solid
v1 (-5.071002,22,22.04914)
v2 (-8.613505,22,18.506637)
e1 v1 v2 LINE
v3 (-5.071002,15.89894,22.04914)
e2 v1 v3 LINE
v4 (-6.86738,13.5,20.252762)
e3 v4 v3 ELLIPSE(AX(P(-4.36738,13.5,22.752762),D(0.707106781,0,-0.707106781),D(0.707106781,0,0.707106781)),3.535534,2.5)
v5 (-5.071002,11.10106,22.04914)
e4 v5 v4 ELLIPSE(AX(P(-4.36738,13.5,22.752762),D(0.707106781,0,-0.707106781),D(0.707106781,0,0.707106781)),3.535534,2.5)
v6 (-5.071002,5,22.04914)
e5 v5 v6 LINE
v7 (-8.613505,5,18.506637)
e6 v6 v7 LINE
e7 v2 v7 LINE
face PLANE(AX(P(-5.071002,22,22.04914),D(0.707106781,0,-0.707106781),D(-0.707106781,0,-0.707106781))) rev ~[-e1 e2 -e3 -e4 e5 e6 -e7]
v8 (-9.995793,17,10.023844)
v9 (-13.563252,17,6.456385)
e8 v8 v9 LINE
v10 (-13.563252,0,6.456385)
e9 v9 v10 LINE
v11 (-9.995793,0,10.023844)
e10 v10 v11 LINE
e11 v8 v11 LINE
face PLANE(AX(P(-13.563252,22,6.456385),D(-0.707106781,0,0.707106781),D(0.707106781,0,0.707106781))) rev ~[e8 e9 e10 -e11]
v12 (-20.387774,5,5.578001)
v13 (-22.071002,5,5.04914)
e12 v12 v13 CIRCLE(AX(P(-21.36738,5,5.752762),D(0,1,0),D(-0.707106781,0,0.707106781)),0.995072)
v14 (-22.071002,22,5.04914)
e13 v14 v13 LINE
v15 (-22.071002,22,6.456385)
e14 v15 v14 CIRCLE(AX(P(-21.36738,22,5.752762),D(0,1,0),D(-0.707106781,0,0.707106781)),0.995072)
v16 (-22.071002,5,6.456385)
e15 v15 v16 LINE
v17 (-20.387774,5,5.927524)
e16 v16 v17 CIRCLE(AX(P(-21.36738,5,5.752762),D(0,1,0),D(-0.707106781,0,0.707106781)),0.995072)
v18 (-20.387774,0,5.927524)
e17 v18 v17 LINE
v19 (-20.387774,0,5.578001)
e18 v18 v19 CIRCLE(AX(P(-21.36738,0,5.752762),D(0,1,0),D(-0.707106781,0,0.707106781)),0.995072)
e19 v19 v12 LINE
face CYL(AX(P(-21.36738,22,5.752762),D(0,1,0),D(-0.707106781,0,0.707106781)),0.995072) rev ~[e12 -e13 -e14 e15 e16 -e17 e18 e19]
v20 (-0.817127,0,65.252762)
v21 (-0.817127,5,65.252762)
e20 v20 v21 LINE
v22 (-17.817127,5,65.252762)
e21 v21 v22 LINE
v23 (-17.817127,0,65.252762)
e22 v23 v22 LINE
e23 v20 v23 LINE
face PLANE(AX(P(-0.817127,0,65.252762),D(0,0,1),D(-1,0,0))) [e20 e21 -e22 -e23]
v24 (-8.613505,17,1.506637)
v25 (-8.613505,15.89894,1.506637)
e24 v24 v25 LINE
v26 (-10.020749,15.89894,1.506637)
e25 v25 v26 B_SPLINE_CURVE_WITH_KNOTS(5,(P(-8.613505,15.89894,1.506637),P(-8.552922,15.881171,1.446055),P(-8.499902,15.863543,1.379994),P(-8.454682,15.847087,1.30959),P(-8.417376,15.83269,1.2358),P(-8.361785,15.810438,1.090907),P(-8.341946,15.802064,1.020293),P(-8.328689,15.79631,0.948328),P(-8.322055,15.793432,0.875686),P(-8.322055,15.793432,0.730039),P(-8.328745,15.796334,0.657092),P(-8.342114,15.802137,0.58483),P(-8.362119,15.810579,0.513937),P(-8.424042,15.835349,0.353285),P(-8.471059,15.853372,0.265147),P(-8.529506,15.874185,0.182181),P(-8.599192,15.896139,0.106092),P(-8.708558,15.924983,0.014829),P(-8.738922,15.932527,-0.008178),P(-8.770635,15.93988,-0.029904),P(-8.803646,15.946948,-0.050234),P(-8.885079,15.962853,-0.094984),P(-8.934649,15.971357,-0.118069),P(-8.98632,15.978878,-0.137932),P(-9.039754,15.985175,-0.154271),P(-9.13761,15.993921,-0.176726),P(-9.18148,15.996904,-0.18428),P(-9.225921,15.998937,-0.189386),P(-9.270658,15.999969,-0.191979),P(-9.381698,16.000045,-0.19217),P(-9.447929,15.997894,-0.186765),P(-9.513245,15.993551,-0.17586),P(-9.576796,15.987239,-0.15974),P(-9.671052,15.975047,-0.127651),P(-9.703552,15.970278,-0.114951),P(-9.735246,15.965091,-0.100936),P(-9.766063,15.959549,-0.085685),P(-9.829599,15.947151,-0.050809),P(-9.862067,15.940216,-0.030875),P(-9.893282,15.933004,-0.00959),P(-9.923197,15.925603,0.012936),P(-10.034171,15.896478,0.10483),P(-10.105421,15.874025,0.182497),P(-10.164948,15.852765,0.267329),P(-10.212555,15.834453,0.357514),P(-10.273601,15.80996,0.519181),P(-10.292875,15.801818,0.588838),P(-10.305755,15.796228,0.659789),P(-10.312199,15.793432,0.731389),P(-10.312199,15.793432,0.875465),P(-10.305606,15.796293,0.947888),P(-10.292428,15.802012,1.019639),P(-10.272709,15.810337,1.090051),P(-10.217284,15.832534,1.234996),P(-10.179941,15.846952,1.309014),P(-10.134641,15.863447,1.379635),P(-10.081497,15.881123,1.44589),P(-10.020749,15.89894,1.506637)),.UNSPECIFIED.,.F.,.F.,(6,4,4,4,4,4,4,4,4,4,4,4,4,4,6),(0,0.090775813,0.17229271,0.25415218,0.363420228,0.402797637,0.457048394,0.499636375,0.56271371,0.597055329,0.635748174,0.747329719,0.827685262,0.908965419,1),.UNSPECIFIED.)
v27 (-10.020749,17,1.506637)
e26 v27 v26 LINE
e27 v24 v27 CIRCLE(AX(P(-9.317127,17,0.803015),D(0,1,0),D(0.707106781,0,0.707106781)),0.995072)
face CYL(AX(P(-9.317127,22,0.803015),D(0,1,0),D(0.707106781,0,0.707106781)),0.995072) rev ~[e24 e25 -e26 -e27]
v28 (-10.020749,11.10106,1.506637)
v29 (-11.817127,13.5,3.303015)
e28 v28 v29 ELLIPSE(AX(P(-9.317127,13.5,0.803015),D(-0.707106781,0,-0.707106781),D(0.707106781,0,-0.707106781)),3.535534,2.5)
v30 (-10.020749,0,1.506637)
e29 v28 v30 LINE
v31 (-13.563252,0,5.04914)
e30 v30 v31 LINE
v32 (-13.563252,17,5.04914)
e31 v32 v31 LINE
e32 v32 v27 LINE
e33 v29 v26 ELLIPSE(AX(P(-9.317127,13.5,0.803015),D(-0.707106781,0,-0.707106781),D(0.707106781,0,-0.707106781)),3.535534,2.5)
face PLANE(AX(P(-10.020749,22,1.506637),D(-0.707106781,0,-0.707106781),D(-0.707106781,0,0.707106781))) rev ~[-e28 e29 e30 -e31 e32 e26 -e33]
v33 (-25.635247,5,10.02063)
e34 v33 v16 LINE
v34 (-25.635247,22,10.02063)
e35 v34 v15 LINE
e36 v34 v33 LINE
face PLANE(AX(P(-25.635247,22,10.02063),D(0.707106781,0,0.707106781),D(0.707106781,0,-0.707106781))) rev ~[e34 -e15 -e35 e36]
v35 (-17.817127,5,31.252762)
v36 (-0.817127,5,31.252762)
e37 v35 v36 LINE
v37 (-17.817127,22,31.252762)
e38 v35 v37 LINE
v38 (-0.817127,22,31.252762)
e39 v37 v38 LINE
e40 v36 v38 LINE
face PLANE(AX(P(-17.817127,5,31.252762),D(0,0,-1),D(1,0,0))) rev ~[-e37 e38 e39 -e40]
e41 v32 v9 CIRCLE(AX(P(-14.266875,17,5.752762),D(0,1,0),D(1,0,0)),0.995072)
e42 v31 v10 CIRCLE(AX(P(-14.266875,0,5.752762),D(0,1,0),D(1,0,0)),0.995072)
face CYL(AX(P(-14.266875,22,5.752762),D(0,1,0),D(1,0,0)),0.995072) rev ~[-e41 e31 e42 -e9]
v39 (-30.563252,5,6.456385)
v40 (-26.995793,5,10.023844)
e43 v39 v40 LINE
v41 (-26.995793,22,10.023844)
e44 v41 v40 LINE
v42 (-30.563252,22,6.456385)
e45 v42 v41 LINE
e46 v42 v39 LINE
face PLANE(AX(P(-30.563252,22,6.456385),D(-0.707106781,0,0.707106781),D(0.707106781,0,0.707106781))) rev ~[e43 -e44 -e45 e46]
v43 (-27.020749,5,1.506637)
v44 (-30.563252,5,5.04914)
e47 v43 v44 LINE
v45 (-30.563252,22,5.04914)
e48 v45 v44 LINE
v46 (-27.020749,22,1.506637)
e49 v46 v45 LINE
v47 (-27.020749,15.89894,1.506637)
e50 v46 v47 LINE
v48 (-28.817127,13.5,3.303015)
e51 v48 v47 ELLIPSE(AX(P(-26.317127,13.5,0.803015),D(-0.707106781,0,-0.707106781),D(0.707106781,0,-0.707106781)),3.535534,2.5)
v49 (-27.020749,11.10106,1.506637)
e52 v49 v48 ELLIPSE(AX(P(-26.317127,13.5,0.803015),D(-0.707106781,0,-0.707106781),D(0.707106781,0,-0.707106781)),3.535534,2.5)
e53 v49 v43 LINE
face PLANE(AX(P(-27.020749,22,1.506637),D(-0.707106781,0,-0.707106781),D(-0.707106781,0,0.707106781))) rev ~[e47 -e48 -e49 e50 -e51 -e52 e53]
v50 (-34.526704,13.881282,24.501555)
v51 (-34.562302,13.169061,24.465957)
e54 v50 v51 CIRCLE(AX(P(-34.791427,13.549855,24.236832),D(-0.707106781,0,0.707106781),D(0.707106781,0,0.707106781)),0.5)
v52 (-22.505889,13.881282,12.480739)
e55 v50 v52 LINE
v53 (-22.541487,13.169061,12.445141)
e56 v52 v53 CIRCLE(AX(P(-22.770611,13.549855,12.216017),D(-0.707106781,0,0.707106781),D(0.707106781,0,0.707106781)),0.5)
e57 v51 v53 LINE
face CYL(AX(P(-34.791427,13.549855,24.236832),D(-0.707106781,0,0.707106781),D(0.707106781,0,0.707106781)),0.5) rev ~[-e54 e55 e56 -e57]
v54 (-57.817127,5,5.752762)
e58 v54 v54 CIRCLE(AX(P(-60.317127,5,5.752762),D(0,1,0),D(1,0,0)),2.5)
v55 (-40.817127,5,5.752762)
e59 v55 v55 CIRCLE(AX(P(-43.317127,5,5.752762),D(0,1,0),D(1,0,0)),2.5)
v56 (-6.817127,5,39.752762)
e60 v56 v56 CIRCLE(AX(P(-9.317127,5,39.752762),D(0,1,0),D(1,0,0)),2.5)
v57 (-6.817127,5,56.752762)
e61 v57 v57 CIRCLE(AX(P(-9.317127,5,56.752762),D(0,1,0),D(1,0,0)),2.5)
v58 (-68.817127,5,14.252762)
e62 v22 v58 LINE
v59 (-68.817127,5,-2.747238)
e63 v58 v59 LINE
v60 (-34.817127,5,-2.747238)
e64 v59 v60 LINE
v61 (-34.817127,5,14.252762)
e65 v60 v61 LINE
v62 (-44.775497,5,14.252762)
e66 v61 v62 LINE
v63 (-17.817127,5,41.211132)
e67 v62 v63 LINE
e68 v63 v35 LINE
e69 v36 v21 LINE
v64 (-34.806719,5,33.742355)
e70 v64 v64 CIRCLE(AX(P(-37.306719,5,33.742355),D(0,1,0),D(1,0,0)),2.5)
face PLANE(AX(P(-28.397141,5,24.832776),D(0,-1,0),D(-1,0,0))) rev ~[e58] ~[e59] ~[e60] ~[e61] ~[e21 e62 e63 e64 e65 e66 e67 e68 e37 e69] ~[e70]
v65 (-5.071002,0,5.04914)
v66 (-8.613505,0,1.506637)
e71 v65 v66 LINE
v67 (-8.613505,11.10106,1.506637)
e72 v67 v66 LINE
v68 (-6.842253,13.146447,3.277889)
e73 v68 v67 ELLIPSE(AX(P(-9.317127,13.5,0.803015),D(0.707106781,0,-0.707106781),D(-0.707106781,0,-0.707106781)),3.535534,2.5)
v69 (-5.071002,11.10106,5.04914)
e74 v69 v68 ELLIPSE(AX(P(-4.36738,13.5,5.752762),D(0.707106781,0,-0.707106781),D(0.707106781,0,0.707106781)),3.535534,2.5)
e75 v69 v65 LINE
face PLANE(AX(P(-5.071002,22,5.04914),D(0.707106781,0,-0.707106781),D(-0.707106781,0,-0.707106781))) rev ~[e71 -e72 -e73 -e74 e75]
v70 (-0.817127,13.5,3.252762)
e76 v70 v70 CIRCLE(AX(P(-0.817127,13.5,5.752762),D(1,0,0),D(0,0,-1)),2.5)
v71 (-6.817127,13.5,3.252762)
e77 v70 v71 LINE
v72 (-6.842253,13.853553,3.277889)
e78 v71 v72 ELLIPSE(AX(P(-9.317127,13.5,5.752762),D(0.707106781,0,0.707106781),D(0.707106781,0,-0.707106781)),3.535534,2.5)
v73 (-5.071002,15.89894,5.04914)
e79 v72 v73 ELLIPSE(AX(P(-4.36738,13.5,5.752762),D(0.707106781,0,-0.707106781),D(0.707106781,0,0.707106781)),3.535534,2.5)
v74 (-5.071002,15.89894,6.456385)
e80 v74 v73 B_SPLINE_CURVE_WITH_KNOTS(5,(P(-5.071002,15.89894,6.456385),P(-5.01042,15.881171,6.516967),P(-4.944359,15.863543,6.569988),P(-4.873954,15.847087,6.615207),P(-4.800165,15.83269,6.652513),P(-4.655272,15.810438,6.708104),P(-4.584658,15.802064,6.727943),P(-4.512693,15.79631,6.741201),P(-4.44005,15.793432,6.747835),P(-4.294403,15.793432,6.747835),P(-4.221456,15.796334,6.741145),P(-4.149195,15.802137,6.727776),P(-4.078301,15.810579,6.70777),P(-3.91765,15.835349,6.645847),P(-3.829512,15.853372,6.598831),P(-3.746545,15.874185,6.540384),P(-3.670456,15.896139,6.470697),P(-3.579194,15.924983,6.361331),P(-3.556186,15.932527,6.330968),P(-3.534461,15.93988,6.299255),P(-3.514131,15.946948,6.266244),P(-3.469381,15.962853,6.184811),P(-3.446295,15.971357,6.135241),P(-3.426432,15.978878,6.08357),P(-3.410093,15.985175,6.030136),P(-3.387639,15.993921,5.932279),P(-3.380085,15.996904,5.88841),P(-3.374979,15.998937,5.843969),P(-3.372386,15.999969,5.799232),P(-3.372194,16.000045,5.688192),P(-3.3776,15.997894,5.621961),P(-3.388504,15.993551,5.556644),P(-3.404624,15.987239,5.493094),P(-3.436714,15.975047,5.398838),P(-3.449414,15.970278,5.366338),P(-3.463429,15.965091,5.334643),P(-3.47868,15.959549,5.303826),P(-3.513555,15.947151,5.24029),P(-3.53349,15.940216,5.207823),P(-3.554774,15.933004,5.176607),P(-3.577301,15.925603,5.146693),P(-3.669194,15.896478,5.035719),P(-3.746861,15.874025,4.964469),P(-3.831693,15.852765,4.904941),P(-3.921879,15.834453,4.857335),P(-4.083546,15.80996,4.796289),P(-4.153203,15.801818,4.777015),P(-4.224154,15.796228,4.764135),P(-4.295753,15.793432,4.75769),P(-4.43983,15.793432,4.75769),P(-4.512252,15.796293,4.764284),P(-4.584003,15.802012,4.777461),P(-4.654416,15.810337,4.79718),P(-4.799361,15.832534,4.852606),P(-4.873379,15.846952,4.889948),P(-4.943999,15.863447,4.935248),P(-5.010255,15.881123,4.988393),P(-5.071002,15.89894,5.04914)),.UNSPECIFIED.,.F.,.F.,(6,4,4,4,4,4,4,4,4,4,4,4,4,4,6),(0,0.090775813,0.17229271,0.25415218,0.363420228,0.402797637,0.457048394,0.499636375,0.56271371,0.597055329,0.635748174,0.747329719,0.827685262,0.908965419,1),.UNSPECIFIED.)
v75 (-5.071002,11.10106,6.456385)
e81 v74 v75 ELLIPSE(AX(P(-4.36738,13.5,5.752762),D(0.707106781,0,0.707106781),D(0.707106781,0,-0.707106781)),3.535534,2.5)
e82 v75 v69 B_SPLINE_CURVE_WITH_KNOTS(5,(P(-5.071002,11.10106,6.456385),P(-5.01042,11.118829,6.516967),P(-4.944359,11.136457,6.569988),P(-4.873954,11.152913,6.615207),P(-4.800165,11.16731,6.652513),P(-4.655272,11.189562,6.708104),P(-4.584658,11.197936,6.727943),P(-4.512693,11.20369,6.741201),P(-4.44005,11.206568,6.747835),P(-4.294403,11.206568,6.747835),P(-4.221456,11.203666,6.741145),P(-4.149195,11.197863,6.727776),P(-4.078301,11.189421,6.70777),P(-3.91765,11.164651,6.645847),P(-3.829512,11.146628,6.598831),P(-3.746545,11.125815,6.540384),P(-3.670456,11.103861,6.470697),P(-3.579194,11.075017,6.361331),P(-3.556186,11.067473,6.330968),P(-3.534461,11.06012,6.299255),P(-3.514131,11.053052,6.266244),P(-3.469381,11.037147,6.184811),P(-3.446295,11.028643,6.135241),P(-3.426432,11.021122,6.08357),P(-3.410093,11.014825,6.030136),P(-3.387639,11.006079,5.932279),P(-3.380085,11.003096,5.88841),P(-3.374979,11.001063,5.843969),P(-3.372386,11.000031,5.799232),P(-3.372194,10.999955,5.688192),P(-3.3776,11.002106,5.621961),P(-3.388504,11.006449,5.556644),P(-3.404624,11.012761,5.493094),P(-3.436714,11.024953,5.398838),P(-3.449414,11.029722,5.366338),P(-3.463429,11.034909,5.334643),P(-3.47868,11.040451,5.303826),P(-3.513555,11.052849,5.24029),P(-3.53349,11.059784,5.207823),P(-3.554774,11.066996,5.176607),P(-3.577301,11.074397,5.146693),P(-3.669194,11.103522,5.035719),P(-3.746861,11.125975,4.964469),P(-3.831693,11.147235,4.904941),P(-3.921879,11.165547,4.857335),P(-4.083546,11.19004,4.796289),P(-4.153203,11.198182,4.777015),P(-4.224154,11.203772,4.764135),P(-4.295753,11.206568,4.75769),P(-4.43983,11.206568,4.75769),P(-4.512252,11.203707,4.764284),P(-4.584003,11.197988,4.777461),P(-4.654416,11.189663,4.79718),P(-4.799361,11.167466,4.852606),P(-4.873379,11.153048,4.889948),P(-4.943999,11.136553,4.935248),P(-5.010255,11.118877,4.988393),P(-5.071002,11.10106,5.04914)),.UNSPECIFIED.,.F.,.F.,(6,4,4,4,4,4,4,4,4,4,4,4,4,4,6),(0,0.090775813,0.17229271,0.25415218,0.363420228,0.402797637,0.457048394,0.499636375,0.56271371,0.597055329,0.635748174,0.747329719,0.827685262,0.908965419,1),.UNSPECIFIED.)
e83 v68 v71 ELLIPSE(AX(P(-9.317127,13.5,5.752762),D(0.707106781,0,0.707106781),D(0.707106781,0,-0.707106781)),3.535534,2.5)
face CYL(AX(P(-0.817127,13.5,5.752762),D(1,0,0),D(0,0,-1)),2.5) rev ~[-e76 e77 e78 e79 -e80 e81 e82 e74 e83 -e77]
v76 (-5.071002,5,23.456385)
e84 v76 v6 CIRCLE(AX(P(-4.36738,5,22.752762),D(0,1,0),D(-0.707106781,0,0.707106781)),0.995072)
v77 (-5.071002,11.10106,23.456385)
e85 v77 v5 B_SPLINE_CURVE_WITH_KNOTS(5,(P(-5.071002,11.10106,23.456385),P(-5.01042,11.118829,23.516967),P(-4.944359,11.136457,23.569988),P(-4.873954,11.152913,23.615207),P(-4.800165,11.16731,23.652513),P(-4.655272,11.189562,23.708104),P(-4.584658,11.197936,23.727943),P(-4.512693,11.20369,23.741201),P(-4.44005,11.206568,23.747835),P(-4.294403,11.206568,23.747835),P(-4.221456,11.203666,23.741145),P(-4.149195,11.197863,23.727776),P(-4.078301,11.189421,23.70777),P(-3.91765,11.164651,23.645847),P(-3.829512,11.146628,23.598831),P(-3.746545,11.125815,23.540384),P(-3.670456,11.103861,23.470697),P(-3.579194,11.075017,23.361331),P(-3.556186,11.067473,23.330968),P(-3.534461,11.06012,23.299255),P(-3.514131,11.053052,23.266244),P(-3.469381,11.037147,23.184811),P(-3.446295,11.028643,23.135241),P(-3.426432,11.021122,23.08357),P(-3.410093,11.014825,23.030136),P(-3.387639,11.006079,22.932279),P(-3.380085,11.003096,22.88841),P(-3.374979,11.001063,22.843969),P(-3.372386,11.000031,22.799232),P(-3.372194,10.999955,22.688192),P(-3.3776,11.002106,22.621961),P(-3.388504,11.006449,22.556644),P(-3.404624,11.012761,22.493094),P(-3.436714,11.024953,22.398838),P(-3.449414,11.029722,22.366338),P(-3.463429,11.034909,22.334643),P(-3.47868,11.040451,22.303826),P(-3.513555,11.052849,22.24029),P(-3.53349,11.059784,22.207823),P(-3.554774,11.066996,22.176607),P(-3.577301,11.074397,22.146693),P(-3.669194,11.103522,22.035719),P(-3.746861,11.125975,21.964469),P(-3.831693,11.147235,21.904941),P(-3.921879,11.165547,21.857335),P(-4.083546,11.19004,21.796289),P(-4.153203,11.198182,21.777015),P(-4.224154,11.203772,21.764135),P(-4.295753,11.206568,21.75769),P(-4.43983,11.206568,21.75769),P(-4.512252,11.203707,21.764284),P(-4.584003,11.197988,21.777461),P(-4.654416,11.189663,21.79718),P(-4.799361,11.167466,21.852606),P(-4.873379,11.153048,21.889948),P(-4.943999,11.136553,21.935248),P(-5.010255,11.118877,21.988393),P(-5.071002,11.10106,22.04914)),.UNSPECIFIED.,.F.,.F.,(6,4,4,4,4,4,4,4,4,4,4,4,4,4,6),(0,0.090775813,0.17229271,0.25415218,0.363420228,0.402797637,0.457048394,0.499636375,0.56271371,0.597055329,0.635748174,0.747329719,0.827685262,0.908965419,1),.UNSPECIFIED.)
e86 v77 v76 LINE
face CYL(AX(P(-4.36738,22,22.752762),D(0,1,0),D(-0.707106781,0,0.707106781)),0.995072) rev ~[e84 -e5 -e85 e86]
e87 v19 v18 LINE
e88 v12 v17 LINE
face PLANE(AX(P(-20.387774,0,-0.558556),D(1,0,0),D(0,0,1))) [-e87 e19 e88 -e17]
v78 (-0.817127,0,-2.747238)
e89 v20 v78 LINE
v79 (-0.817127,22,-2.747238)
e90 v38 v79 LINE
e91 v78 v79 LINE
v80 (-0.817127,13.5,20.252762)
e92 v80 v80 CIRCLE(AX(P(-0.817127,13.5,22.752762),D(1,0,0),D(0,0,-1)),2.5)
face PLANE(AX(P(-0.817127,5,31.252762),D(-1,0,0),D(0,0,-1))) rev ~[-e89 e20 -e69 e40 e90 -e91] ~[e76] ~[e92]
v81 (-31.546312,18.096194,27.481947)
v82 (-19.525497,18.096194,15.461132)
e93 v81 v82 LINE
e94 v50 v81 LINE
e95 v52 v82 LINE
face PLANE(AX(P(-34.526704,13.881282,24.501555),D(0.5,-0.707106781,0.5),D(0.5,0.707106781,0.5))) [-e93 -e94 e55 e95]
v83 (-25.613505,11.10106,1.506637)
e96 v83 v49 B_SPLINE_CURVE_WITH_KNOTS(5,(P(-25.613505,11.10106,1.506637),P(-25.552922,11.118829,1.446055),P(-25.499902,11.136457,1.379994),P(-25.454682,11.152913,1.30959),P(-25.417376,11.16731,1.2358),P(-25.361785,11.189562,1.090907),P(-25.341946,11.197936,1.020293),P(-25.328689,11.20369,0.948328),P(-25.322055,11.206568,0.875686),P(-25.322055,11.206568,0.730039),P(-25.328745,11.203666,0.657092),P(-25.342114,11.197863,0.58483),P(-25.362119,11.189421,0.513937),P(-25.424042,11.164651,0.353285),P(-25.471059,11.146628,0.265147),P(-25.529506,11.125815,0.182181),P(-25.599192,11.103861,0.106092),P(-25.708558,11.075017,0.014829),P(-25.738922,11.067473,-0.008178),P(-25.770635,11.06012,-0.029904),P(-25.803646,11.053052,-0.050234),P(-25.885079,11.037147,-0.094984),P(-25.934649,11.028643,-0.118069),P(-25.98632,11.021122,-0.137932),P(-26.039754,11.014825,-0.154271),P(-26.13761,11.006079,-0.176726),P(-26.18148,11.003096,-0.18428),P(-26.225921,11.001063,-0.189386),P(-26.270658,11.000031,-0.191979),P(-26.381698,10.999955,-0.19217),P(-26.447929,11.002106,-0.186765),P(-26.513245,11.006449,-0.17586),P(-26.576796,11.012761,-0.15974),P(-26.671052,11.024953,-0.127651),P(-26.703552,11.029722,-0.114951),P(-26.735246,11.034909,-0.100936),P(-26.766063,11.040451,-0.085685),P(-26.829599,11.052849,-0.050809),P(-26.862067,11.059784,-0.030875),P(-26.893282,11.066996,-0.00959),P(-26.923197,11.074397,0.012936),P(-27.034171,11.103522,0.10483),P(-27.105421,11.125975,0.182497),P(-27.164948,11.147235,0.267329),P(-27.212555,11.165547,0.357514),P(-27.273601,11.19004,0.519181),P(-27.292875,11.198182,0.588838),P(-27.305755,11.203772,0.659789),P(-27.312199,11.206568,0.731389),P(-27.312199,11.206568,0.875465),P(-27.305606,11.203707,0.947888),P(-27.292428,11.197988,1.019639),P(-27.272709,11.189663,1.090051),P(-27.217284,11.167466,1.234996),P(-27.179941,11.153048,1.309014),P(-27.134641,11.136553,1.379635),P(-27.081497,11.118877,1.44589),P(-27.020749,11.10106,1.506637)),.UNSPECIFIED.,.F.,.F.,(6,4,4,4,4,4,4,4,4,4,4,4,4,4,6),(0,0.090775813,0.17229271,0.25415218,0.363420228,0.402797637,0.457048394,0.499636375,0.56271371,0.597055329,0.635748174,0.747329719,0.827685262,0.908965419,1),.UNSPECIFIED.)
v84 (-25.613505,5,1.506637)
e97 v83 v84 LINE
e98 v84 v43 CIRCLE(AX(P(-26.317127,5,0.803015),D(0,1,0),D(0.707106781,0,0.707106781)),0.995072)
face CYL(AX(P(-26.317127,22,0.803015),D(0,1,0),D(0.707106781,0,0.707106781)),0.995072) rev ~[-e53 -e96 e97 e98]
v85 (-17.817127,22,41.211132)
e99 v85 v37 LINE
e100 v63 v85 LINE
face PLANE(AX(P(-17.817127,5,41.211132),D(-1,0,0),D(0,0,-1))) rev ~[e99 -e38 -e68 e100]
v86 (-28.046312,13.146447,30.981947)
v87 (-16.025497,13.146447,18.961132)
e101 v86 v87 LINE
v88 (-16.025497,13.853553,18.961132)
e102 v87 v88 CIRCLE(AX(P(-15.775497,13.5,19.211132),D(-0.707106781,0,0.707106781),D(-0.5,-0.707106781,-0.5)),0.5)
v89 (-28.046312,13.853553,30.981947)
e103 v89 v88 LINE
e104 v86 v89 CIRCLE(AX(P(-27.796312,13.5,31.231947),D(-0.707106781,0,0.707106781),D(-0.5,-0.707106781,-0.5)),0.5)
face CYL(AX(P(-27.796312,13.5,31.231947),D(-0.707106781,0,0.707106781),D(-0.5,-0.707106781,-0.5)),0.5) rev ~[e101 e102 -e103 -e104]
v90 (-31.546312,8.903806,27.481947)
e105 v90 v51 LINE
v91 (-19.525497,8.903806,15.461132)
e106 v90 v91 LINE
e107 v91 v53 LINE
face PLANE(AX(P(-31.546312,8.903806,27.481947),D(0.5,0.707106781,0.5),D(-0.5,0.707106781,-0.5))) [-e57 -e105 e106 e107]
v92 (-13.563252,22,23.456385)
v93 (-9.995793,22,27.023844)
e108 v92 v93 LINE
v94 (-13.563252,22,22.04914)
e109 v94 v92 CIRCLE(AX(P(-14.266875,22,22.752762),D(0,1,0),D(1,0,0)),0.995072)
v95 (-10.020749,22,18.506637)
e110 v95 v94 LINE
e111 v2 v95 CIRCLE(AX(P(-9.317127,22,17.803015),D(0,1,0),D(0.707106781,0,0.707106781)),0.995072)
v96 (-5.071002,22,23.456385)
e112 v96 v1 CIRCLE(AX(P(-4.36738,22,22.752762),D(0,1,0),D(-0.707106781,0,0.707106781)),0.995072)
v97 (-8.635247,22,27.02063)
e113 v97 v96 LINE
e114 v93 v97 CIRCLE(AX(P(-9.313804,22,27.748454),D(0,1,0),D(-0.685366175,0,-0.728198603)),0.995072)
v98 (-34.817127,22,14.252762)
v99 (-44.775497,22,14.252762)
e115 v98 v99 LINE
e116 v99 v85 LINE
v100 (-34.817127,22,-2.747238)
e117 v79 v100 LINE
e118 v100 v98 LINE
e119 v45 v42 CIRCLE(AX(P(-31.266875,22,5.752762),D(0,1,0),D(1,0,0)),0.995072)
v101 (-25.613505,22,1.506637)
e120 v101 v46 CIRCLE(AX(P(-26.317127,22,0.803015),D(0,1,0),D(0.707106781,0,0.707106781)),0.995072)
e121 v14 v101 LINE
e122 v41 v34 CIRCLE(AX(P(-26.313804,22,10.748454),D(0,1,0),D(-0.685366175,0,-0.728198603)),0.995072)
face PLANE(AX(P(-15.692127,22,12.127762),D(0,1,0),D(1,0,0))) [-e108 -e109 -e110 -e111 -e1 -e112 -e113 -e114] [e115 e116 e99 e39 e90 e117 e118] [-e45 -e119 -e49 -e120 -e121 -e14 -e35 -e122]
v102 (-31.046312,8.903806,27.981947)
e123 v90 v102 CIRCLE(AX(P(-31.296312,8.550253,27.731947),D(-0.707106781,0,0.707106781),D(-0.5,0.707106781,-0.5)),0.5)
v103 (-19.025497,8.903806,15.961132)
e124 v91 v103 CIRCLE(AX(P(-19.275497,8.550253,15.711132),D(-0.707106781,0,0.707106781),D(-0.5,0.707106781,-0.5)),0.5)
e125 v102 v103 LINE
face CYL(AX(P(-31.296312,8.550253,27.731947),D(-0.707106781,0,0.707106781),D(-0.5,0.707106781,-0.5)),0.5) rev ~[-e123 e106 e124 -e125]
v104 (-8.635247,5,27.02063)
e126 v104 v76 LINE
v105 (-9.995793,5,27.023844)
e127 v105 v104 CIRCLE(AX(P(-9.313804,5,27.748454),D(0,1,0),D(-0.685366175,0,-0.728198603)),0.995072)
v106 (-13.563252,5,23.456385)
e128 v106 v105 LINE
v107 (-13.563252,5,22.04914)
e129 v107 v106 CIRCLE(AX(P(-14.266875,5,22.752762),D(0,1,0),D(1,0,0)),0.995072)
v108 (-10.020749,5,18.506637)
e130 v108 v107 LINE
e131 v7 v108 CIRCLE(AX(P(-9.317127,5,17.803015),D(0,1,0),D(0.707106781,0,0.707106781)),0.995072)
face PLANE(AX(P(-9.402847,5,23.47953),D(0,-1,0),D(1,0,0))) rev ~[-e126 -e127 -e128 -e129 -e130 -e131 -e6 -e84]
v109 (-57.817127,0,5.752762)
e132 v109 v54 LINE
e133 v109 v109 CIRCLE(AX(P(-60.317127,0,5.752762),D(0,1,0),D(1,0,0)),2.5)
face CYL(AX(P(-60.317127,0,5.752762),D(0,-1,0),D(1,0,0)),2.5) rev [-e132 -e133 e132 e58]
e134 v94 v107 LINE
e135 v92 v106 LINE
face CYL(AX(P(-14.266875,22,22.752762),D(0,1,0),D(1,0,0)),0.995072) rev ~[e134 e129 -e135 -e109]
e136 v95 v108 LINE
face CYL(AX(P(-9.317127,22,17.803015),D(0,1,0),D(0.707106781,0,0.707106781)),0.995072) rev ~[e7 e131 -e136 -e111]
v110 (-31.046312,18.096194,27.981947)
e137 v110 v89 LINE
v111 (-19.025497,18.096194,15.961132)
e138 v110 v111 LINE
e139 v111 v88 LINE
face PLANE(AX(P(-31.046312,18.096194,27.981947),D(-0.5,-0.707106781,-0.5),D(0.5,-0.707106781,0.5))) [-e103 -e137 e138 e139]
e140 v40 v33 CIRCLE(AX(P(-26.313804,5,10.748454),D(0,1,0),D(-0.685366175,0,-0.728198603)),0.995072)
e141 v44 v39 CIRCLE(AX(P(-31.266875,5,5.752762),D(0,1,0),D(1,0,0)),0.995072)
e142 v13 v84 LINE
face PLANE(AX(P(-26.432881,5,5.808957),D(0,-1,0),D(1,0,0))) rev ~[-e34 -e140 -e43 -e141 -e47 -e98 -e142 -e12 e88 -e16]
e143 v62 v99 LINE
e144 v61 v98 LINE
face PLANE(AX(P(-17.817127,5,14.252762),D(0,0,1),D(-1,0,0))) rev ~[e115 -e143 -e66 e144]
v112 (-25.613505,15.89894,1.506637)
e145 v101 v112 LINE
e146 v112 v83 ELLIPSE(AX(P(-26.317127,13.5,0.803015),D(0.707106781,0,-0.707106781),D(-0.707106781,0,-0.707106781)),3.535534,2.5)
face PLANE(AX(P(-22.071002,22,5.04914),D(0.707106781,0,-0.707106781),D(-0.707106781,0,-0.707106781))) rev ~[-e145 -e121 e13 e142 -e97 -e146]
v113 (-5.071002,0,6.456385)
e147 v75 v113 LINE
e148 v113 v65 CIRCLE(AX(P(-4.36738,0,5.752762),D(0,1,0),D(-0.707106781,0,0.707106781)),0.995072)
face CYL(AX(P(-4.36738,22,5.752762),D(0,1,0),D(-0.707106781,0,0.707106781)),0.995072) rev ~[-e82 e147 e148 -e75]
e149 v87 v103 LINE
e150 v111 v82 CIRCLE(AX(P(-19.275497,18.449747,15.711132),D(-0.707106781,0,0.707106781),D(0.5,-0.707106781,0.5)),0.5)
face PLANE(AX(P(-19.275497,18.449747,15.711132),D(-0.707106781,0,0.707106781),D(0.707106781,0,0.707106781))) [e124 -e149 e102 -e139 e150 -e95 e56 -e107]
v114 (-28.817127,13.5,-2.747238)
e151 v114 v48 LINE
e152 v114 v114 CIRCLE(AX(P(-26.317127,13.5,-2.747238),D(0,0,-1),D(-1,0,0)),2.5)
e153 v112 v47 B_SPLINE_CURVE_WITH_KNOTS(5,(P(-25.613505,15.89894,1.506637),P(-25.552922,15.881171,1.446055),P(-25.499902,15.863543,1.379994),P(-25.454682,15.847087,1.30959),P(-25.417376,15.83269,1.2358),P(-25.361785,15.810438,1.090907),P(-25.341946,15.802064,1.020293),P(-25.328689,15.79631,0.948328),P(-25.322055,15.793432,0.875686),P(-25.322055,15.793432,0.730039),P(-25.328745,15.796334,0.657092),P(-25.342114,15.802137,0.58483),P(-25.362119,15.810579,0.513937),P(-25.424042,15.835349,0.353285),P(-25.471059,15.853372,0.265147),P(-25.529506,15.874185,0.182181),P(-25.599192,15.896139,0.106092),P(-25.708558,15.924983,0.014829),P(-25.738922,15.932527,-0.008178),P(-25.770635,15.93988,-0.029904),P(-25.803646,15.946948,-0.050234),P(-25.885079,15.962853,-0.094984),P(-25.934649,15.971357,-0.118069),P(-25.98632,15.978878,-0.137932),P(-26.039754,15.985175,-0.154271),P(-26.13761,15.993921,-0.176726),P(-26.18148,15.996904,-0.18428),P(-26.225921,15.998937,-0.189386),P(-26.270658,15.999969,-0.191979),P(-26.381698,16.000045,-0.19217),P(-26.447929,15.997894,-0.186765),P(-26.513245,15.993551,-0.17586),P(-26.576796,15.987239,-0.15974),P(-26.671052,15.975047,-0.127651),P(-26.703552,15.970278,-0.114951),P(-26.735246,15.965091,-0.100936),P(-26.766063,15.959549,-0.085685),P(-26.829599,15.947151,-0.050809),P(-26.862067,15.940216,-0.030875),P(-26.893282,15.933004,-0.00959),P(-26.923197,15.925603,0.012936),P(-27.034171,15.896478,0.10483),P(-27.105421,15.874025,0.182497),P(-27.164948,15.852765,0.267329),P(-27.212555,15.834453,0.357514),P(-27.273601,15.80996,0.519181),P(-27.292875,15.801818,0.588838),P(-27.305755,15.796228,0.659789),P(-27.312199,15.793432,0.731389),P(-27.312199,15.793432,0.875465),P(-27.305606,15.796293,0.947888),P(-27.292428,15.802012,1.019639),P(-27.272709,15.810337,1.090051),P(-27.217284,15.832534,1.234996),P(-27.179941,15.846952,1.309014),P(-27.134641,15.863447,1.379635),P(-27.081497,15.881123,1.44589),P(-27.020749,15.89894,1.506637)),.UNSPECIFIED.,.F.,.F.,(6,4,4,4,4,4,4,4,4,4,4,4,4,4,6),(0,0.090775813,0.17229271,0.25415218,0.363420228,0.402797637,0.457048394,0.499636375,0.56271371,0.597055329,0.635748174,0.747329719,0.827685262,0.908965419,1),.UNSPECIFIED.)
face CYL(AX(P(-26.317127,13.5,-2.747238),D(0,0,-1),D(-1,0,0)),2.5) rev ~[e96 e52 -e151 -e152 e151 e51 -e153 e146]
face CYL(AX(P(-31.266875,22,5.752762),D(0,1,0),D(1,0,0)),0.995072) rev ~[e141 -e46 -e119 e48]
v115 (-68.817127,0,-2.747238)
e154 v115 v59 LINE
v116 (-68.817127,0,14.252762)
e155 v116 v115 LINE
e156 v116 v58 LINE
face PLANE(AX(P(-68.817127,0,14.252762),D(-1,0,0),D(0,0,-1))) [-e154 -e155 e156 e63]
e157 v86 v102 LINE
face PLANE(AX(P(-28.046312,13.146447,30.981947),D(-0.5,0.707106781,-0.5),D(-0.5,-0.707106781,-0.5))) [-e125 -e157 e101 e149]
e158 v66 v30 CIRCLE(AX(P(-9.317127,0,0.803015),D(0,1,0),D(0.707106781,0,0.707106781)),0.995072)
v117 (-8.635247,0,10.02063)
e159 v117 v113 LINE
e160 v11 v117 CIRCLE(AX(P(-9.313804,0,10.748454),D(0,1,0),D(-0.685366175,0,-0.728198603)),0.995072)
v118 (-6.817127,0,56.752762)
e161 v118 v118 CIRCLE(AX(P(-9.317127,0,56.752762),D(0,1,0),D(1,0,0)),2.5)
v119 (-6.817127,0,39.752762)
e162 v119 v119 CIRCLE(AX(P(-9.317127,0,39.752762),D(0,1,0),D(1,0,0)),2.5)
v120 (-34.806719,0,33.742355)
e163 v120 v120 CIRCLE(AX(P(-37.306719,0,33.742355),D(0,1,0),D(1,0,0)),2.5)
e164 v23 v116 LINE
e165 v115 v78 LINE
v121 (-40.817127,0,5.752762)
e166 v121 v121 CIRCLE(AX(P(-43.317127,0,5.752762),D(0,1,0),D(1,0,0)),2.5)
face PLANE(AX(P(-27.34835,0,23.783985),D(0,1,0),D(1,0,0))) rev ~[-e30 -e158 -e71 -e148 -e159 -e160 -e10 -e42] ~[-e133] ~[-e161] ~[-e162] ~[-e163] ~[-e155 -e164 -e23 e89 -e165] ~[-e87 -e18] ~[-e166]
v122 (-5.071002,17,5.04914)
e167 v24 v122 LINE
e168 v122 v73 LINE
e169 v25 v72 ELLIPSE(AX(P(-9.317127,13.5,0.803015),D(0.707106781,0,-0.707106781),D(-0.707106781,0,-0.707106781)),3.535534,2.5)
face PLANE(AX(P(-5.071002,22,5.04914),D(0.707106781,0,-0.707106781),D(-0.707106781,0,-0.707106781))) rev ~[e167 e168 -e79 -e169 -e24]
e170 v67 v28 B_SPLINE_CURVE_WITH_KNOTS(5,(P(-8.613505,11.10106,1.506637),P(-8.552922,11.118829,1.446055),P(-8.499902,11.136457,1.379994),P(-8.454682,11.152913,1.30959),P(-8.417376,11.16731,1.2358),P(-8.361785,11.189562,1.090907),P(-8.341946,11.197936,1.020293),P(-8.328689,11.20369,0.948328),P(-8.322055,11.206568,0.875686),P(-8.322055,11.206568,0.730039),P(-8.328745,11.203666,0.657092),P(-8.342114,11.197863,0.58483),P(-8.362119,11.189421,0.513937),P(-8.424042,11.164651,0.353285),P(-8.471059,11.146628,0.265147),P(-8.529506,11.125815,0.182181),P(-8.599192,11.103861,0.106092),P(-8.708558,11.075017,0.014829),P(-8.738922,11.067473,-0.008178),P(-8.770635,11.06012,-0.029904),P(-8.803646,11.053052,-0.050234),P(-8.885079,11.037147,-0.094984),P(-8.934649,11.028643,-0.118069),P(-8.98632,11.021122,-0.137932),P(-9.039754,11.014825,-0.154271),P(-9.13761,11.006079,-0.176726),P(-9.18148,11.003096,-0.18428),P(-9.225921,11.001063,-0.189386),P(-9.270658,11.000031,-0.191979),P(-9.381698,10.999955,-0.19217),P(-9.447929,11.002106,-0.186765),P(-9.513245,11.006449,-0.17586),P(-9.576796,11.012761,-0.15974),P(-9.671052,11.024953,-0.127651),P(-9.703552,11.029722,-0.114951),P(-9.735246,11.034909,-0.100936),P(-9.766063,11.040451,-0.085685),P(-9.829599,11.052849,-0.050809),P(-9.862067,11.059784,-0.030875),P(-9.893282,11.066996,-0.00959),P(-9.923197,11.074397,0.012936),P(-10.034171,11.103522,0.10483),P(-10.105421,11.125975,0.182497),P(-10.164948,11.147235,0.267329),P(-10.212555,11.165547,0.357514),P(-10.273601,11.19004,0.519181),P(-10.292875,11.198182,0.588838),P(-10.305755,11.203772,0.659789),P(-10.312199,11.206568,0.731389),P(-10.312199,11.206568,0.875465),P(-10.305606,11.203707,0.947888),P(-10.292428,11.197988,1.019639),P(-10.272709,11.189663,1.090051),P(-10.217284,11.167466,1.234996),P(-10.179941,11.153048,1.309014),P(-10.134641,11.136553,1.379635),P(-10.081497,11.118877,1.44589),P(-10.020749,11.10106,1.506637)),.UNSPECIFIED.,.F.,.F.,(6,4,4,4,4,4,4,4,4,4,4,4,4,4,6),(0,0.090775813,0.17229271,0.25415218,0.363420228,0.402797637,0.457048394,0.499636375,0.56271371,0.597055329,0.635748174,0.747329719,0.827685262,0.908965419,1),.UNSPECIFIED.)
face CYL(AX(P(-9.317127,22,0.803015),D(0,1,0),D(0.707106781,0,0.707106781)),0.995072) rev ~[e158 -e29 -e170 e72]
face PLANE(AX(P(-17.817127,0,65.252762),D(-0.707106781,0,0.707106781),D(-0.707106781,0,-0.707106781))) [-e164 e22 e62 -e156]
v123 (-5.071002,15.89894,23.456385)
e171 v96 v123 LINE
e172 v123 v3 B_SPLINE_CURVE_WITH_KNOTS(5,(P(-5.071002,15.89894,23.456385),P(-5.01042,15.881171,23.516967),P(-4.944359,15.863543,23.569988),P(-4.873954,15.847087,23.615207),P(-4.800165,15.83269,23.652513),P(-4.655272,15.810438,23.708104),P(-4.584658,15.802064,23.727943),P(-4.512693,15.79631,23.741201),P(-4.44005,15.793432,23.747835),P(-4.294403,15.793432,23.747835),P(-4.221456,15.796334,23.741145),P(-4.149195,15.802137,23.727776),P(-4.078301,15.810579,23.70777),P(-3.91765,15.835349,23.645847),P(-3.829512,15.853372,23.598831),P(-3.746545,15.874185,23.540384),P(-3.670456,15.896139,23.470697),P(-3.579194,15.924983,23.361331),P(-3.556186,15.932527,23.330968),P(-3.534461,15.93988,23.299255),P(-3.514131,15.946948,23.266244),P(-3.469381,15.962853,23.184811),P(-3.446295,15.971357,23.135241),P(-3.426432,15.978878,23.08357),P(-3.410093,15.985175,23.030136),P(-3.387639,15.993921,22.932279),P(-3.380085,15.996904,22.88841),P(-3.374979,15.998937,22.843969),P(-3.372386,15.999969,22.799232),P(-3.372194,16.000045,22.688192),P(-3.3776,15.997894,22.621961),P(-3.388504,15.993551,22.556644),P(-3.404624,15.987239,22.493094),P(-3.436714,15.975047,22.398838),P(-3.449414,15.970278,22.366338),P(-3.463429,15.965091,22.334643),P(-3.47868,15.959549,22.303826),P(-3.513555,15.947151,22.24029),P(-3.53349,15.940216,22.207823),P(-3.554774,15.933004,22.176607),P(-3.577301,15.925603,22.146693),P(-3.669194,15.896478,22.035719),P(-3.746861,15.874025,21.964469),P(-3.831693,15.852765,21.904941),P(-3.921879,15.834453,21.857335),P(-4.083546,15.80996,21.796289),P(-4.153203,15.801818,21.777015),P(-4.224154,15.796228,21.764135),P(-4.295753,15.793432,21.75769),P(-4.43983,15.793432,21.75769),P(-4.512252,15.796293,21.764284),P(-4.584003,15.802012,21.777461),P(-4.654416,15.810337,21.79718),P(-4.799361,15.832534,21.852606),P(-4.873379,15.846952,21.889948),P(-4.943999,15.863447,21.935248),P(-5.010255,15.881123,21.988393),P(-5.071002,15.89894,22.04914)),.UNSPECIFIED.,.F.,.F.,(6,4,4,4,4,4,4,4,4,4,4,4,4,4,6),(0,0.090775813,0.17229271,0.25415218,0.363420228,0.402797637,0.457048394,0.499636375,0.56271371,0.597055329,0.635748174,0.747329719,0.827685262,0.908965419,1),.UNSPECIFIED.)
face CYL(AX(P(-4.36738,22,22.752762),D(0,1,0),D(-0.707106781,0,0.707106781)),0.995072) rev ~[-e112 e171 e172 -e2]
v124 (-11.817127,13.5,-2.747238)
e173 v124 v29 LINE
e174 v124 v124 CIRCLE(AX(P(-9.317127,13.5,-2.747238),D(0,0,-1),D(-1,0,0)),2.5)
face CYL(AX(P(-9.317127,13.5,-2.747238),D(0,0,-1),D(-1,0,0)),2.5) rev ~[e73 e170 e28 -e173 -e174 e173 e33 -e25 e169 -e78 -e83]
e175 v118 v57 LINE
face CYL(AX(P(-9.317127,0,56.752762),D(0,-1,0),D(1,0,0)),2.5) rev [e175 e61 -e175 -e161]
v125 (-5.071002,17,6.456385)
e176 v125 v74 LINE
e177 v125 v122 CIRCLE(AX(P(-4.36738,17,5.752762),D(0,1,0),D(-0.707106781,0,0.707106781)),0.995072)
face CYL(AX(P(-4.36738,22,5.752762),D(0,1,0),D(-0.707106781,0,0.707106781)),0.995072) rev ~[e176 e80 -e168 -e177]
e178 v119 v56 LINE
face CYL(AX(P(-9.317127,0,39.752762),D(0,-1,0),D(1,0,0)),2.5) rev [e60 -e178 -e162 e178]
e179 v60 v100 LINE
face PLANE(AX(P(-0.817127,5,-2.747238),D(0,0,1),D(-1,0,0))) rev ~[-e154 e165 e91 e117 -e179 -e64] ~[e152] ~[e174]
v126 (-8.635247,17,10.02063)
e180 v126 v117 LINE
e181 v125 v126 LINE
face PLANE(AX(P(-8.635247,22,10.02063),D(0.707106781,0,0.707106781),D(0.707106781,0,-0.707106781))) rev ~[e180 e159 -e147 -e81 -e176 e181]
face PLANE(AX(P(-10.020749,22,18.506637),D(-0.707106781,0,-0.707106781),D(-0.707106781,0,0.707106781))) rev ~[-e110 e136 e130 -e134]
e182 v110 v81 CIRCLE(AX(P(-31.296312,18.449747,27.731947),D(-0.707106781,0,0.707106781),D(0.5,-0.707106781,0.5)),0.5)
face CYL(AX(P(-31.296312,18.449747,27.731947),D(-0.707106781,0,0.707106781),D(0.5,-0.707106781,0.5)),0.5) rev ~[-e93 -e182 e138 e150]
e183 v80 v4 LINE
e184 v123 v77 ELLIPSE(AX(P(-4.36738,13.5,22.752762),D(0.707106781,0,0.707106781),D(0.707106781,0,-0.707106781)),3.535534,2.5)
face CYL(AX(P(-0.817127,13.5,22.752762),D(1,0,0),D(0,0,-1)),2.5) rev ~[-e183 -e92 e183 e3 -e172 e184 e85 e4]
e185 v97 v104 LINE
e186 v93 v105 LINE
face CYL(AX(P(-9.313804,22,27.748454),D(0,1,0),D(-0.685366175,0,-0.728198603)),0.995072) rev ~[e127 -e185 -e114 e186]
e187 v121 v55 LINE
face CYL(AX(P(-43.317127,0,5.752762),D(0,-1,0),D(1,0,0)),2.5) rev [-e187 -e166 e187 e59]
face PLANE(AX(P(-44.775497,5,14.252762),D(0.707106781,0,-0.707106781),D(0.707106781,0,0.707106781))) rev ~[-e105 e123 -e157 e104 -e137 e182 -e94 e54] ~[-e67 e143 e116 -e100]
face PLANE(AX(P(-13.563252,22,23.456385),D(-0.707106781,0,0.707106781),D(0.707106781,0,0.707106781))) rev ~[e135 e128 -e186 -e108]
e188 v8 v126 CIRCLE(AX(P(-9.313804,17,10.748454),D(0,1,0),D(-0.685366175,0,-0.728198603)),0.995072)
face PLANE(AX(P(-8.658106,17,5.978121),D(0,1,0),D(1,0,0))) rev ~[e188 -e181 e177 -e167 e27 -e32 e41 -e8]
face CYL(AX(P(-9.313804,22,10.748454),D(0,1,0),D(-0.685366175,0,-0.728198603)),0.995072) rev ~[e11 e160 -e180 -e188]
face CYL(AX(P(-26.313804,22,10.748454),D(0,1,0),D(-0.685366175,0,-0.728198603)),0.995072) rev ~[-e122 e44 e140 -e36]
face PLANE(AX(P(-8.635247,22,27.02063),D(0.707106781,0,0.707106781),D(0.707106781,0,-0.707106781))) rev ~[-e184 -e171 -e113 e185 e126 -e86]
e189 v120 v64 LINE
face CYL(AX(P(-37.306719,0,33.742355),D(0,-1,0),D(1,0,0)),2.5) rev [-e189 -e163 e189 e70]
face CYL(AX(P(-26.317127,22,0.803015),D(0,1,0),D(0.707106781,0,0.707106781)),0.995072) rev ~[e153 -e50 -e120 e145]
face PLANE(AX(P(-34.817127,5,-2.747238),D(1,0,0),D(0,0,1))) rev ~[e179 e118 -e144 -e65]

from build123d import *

# Parameters (mm, degrees)
SKETCH1_R                = 2.5
BOSS_EXTRUDE4_DEPTH      = 5
BOSS_EXTRUDE5_DEPTH      = 17
BOSS_EXTRUDE5_DEPTH_BACK = 5
BOSS_EXTRUDE6_DEPTH      = 17
BOSS_EXTRUDE6_DEPTH_BACK = 5
SKETCH3_R                = 0.5
CUT_EXTRUDE4_DEPTH       = 17
SKETCH6_R                = 0.995072339
CUT_EXTRUDE5_DEPTH       = 25
SKETCH10_W               = 12.090214455
SKETCH10_H               = 12.735025893
SKETCH10_W_2             = 13.963890252
SKETCH10_H_2             = 14.708631066
BOSS_EXTRUDE8_DEPTH      = 5
SKETCH11_W               = 13.591519846
SKETCH11_H               = 14.150075456
BOSS_EXTRUDE9_DEPTH      = 5
SKETCH15_R               = 2.5
CUT_EXTRUDE7_DEPTH       = 7
SKETCH14_R               = 2.5
CUT_EXTRUDE8_DEPTH       = 7


with BuildPart() as part:
    # Sketch1 → Boss-Extrude4 (new body)
    with BuildSketch(Plane(origin=(0, 0, 0), x_dir=(1, 0, 0), z_dir=(0, 1, 0))):
        Polygon((-68.817127072, 2.747237569), (-0.817127072, 2.747237569), (-0.817127072, -65.252762431), (-17.817127072, -65.252762431), (-68.817127072, -14.252762431), align=None)
        with Locations((-9.317127072, -5.752762431)):
            Circle(SKETCH1_R, mode=Mode.SUBTRACT)
        with Locations((-26.317127072, -5.752762431)):
            Circle(SKETCH1_R, mode=Mode.SUBTRACT)
        with Locations((-43.317127072, -5.752762431)):
            Circle(SKETCH1_R, mode=Mode.SUBTRACT)
        with Locations((-60.317127072, -5.752762431)):
            Circle(SKETCH1_R, mode=Mode.SUBTRACT)
        with Locations((-9.317127072, -22.752762431)):
            Circle(SKETCH1_R, mode=Mode.SUBTRACT)
        with Locations((-9.317127072, -39.752762431)):
            Circle(SKETCH1_R, mode=Mode.SUBTRACT)
        with Locations((-9.317127072, -56.752762431)):
            Circle(SKETCH1_R, mode=Mode.SUBTRACT)
        with Locations((-37.306719432, -33.742354791)):
            Circle(SKETCH1_R, mode=Mode.SUBTRACT)
        Polygon((-17.817127072, -14.252762431), (-44.775496511, -14.252762431), (-17.817127072, -41.211131871), align=None, mode=Mode.SUBTRACT)
    extrude(amount=BOSS_EXTRUDE4_DEPTH)

    # Sketch2 → Boss-Extrude5 (add, two sides)
    with BuildSketch(Plane(origin=(0, 5, 0), x_dir=(1, 0, 0), z_dir=(0, 1, 0))) as boss_extrude5_sk:
        Polygon((-17.817127072, -14.252762431), (-44.775496511, -14.252762431), (-17.817127072, -41.211131871), align=None)
    extrude(amount=BOSS_EXTRUDE5_DEPTH)
    extrude(boss_extrude5_sk.sketch, amount=-BOSS_EXTRUDE5_DEPTH_BACK)

    # Sketch4 → Boss-Extrude6 (add, two sides)
    with BuildSketch(Plane(origin=(0, 5, 0), x_dir=(1, 0, 0), z_dir=(0, 1, 0))) as boss_extrude6_sk:
        Polygon((-0.817127072, -31.252762431), (-0.817127072, 2.747237569), (-34.817127072, 2.747237569), (-34.817127072, -14.252762431), (-17.817127072, -14.252762431), (-17.817127072, -31.252762431), align=None)
    extrude(amount=BOSS_EXTRUDE6_DEPTH)
    extrude(boss_extrude6_sk.sketch, amount=-BOSS_EXTRUDE6_DEPTH_BACK)

    # Sketch3 → Cut-Extrude4 (cut)
    with BuildSketch(Plane(origin=(-29.514129471, 0, 29.514129471), x_dir=(0.707106781, 0, 0.707106781), z_dir=(-0.707106781, 0, 0.707106781))):
        with Locations((-2.520386408, 18.449747468)):
            Circle(SKETCH3_R)
        with Locations((2.42936106, 13.5)):
            Circle(SKETCH3_R)
        with Locations((-2.520386408, 8.550252532)):
            Circle(SKETCH3_R)
        with Locations((-7.463225234, 13.549854817)):
            Circle(SKETCH3_R)
        Polygon((-7.470133876, 13.5), (-2.520386408, 18.449747468), (2.42936106, 13.5), (-2.520386408, 8.550252532), align=None)
    extrude(amount=-CUT_EXTRUDE4_DEPTH, mode=Mode.SUBTRACT)

    # Sketch6 → Cut-Extrude5 (cut)
    with BuildSketch(Plane(origin=(0, 22, 0), x_dir=(1, 0, 0), z_dir=(0, 1, 0))):
        with Locations((-31.26687454, -5.752762431)):
            Circle(SKETCH6_R)
        with Locations((-26.313804451, -10.748453884)):
            Circle(SKETCH6_R)
        with Locations((-21.367379604, -5.752762431)):
            Circle(SKETCH6_R)
        with Locations((-26.317127072, -0.803014963)):
            Circle(SKETCH6_R)
        Polygon((-31.26687454, -5.752762431), (-26.317127072, -10.702509899), (-21.367379604, -5.752762431), (-26.317127072, -0.803014963), align=None)
        with Locations((-14.26687454, -5.752762431)):
            Circle(SKETCH6_R)
        with Locations((-9.313804451, -10.748453884)):
            Circle(SKETCH6_R)
        with Locations((-4.367379604, -5.752762431)):
            Circle(SKETCH6_R)
        with Locations((-9.317127072, -0.803014963)):
            Circle(SKETCH6_R)
        Polygon((-14.26687454, -5.752762431), (-9.317127072, -10.702509899), (-4.367379604, -5.752762431), (-9.317127072, -0.803014963), align=None)
        with Locations((-14.26687454, -22.752762431)):
            Circle(SKETCH6_R)
        with Locations((-9.313804451, -27.748453884)):
            Circle(SKETCH6_R)
        with Locations((-4.367379604, -22.752762431)):
            Circle(SKETCH6_R)
        with Locations((-9.317127072, -17.803014963)):
            Circle(SKETCH6_R)
        Polygon((-14.26687454, -22.752762431), (-9.317127072, -27.702509899), (-4.367379604, -22.752762431), (-9.317127072, -17.803014963), align=None)
    extrude(amount=-CUT_EXTRUDE5_DEPTH, mode=Mode.SUBTRACT)

    # Sketch10 → Boss-Extrude8 (add)
    with BuildSketch(Plane.XZ):
        with Locations((-26.432881039, 5.808957337)):
            Rectangle(SKETCH10_W, SKETCH10_H)
        with Locations((-9.402846812, 23.47953019)):
            Rectangle(SKETCH10_W_2, SKETCH10_H_2)
    extrude(amount=-BOSS_EXTRUDE8_DEPTH)

    # Sketch11 → Boss-Extrude9 (add)
    with BuildSketch(Plane(origin=(0, 22, 0), x_dir=(1, 0, 0), z_dir=(0, 1, 0))):
        with Locations((-8.658105999, -5.978121074)):
            Rectangle(SKETCH11_W, SKETCH11_H)
    extrude(amount=-BOSS_EXTRUDE9_DEPTH)

    # Sketch15 → Cut-Extrude7 (cut)
    with BuildSketch(Plane(origin=(-0.817127072, 0, 0), x_dir=(0, 0, -1), z_dir=(1, 0, 0))):
        with Locations((-5.752762431, 13.5)):
            Circle(SKETCH15_R)
        with Locations((-22.752762431, 13.5)):
            Circle(SKETCH15_R)
    extrude(amount=-CUT_EXTRUDE7_DEPTH, mode=Mode.SUBTRACT)

    # Sketch14 → Cut-Extrude8 (cut)
    with BuildSketch(Plane(origin=(0, 0, -2.747237569), x_dir=(-1, 0, 0), z_dir=(0, 0, -1))):
        with Locations((26.317127072, 13.5)):
            Circle(SKETCH14_R)
        with Locations((9.317127072, 13.5)):
            Circle(SKETCH14_R)
    extrude(amount=-CUT_EXTRUDE8_DEPTH, mode=Mode.SUBTRACT)


solid = part.part
